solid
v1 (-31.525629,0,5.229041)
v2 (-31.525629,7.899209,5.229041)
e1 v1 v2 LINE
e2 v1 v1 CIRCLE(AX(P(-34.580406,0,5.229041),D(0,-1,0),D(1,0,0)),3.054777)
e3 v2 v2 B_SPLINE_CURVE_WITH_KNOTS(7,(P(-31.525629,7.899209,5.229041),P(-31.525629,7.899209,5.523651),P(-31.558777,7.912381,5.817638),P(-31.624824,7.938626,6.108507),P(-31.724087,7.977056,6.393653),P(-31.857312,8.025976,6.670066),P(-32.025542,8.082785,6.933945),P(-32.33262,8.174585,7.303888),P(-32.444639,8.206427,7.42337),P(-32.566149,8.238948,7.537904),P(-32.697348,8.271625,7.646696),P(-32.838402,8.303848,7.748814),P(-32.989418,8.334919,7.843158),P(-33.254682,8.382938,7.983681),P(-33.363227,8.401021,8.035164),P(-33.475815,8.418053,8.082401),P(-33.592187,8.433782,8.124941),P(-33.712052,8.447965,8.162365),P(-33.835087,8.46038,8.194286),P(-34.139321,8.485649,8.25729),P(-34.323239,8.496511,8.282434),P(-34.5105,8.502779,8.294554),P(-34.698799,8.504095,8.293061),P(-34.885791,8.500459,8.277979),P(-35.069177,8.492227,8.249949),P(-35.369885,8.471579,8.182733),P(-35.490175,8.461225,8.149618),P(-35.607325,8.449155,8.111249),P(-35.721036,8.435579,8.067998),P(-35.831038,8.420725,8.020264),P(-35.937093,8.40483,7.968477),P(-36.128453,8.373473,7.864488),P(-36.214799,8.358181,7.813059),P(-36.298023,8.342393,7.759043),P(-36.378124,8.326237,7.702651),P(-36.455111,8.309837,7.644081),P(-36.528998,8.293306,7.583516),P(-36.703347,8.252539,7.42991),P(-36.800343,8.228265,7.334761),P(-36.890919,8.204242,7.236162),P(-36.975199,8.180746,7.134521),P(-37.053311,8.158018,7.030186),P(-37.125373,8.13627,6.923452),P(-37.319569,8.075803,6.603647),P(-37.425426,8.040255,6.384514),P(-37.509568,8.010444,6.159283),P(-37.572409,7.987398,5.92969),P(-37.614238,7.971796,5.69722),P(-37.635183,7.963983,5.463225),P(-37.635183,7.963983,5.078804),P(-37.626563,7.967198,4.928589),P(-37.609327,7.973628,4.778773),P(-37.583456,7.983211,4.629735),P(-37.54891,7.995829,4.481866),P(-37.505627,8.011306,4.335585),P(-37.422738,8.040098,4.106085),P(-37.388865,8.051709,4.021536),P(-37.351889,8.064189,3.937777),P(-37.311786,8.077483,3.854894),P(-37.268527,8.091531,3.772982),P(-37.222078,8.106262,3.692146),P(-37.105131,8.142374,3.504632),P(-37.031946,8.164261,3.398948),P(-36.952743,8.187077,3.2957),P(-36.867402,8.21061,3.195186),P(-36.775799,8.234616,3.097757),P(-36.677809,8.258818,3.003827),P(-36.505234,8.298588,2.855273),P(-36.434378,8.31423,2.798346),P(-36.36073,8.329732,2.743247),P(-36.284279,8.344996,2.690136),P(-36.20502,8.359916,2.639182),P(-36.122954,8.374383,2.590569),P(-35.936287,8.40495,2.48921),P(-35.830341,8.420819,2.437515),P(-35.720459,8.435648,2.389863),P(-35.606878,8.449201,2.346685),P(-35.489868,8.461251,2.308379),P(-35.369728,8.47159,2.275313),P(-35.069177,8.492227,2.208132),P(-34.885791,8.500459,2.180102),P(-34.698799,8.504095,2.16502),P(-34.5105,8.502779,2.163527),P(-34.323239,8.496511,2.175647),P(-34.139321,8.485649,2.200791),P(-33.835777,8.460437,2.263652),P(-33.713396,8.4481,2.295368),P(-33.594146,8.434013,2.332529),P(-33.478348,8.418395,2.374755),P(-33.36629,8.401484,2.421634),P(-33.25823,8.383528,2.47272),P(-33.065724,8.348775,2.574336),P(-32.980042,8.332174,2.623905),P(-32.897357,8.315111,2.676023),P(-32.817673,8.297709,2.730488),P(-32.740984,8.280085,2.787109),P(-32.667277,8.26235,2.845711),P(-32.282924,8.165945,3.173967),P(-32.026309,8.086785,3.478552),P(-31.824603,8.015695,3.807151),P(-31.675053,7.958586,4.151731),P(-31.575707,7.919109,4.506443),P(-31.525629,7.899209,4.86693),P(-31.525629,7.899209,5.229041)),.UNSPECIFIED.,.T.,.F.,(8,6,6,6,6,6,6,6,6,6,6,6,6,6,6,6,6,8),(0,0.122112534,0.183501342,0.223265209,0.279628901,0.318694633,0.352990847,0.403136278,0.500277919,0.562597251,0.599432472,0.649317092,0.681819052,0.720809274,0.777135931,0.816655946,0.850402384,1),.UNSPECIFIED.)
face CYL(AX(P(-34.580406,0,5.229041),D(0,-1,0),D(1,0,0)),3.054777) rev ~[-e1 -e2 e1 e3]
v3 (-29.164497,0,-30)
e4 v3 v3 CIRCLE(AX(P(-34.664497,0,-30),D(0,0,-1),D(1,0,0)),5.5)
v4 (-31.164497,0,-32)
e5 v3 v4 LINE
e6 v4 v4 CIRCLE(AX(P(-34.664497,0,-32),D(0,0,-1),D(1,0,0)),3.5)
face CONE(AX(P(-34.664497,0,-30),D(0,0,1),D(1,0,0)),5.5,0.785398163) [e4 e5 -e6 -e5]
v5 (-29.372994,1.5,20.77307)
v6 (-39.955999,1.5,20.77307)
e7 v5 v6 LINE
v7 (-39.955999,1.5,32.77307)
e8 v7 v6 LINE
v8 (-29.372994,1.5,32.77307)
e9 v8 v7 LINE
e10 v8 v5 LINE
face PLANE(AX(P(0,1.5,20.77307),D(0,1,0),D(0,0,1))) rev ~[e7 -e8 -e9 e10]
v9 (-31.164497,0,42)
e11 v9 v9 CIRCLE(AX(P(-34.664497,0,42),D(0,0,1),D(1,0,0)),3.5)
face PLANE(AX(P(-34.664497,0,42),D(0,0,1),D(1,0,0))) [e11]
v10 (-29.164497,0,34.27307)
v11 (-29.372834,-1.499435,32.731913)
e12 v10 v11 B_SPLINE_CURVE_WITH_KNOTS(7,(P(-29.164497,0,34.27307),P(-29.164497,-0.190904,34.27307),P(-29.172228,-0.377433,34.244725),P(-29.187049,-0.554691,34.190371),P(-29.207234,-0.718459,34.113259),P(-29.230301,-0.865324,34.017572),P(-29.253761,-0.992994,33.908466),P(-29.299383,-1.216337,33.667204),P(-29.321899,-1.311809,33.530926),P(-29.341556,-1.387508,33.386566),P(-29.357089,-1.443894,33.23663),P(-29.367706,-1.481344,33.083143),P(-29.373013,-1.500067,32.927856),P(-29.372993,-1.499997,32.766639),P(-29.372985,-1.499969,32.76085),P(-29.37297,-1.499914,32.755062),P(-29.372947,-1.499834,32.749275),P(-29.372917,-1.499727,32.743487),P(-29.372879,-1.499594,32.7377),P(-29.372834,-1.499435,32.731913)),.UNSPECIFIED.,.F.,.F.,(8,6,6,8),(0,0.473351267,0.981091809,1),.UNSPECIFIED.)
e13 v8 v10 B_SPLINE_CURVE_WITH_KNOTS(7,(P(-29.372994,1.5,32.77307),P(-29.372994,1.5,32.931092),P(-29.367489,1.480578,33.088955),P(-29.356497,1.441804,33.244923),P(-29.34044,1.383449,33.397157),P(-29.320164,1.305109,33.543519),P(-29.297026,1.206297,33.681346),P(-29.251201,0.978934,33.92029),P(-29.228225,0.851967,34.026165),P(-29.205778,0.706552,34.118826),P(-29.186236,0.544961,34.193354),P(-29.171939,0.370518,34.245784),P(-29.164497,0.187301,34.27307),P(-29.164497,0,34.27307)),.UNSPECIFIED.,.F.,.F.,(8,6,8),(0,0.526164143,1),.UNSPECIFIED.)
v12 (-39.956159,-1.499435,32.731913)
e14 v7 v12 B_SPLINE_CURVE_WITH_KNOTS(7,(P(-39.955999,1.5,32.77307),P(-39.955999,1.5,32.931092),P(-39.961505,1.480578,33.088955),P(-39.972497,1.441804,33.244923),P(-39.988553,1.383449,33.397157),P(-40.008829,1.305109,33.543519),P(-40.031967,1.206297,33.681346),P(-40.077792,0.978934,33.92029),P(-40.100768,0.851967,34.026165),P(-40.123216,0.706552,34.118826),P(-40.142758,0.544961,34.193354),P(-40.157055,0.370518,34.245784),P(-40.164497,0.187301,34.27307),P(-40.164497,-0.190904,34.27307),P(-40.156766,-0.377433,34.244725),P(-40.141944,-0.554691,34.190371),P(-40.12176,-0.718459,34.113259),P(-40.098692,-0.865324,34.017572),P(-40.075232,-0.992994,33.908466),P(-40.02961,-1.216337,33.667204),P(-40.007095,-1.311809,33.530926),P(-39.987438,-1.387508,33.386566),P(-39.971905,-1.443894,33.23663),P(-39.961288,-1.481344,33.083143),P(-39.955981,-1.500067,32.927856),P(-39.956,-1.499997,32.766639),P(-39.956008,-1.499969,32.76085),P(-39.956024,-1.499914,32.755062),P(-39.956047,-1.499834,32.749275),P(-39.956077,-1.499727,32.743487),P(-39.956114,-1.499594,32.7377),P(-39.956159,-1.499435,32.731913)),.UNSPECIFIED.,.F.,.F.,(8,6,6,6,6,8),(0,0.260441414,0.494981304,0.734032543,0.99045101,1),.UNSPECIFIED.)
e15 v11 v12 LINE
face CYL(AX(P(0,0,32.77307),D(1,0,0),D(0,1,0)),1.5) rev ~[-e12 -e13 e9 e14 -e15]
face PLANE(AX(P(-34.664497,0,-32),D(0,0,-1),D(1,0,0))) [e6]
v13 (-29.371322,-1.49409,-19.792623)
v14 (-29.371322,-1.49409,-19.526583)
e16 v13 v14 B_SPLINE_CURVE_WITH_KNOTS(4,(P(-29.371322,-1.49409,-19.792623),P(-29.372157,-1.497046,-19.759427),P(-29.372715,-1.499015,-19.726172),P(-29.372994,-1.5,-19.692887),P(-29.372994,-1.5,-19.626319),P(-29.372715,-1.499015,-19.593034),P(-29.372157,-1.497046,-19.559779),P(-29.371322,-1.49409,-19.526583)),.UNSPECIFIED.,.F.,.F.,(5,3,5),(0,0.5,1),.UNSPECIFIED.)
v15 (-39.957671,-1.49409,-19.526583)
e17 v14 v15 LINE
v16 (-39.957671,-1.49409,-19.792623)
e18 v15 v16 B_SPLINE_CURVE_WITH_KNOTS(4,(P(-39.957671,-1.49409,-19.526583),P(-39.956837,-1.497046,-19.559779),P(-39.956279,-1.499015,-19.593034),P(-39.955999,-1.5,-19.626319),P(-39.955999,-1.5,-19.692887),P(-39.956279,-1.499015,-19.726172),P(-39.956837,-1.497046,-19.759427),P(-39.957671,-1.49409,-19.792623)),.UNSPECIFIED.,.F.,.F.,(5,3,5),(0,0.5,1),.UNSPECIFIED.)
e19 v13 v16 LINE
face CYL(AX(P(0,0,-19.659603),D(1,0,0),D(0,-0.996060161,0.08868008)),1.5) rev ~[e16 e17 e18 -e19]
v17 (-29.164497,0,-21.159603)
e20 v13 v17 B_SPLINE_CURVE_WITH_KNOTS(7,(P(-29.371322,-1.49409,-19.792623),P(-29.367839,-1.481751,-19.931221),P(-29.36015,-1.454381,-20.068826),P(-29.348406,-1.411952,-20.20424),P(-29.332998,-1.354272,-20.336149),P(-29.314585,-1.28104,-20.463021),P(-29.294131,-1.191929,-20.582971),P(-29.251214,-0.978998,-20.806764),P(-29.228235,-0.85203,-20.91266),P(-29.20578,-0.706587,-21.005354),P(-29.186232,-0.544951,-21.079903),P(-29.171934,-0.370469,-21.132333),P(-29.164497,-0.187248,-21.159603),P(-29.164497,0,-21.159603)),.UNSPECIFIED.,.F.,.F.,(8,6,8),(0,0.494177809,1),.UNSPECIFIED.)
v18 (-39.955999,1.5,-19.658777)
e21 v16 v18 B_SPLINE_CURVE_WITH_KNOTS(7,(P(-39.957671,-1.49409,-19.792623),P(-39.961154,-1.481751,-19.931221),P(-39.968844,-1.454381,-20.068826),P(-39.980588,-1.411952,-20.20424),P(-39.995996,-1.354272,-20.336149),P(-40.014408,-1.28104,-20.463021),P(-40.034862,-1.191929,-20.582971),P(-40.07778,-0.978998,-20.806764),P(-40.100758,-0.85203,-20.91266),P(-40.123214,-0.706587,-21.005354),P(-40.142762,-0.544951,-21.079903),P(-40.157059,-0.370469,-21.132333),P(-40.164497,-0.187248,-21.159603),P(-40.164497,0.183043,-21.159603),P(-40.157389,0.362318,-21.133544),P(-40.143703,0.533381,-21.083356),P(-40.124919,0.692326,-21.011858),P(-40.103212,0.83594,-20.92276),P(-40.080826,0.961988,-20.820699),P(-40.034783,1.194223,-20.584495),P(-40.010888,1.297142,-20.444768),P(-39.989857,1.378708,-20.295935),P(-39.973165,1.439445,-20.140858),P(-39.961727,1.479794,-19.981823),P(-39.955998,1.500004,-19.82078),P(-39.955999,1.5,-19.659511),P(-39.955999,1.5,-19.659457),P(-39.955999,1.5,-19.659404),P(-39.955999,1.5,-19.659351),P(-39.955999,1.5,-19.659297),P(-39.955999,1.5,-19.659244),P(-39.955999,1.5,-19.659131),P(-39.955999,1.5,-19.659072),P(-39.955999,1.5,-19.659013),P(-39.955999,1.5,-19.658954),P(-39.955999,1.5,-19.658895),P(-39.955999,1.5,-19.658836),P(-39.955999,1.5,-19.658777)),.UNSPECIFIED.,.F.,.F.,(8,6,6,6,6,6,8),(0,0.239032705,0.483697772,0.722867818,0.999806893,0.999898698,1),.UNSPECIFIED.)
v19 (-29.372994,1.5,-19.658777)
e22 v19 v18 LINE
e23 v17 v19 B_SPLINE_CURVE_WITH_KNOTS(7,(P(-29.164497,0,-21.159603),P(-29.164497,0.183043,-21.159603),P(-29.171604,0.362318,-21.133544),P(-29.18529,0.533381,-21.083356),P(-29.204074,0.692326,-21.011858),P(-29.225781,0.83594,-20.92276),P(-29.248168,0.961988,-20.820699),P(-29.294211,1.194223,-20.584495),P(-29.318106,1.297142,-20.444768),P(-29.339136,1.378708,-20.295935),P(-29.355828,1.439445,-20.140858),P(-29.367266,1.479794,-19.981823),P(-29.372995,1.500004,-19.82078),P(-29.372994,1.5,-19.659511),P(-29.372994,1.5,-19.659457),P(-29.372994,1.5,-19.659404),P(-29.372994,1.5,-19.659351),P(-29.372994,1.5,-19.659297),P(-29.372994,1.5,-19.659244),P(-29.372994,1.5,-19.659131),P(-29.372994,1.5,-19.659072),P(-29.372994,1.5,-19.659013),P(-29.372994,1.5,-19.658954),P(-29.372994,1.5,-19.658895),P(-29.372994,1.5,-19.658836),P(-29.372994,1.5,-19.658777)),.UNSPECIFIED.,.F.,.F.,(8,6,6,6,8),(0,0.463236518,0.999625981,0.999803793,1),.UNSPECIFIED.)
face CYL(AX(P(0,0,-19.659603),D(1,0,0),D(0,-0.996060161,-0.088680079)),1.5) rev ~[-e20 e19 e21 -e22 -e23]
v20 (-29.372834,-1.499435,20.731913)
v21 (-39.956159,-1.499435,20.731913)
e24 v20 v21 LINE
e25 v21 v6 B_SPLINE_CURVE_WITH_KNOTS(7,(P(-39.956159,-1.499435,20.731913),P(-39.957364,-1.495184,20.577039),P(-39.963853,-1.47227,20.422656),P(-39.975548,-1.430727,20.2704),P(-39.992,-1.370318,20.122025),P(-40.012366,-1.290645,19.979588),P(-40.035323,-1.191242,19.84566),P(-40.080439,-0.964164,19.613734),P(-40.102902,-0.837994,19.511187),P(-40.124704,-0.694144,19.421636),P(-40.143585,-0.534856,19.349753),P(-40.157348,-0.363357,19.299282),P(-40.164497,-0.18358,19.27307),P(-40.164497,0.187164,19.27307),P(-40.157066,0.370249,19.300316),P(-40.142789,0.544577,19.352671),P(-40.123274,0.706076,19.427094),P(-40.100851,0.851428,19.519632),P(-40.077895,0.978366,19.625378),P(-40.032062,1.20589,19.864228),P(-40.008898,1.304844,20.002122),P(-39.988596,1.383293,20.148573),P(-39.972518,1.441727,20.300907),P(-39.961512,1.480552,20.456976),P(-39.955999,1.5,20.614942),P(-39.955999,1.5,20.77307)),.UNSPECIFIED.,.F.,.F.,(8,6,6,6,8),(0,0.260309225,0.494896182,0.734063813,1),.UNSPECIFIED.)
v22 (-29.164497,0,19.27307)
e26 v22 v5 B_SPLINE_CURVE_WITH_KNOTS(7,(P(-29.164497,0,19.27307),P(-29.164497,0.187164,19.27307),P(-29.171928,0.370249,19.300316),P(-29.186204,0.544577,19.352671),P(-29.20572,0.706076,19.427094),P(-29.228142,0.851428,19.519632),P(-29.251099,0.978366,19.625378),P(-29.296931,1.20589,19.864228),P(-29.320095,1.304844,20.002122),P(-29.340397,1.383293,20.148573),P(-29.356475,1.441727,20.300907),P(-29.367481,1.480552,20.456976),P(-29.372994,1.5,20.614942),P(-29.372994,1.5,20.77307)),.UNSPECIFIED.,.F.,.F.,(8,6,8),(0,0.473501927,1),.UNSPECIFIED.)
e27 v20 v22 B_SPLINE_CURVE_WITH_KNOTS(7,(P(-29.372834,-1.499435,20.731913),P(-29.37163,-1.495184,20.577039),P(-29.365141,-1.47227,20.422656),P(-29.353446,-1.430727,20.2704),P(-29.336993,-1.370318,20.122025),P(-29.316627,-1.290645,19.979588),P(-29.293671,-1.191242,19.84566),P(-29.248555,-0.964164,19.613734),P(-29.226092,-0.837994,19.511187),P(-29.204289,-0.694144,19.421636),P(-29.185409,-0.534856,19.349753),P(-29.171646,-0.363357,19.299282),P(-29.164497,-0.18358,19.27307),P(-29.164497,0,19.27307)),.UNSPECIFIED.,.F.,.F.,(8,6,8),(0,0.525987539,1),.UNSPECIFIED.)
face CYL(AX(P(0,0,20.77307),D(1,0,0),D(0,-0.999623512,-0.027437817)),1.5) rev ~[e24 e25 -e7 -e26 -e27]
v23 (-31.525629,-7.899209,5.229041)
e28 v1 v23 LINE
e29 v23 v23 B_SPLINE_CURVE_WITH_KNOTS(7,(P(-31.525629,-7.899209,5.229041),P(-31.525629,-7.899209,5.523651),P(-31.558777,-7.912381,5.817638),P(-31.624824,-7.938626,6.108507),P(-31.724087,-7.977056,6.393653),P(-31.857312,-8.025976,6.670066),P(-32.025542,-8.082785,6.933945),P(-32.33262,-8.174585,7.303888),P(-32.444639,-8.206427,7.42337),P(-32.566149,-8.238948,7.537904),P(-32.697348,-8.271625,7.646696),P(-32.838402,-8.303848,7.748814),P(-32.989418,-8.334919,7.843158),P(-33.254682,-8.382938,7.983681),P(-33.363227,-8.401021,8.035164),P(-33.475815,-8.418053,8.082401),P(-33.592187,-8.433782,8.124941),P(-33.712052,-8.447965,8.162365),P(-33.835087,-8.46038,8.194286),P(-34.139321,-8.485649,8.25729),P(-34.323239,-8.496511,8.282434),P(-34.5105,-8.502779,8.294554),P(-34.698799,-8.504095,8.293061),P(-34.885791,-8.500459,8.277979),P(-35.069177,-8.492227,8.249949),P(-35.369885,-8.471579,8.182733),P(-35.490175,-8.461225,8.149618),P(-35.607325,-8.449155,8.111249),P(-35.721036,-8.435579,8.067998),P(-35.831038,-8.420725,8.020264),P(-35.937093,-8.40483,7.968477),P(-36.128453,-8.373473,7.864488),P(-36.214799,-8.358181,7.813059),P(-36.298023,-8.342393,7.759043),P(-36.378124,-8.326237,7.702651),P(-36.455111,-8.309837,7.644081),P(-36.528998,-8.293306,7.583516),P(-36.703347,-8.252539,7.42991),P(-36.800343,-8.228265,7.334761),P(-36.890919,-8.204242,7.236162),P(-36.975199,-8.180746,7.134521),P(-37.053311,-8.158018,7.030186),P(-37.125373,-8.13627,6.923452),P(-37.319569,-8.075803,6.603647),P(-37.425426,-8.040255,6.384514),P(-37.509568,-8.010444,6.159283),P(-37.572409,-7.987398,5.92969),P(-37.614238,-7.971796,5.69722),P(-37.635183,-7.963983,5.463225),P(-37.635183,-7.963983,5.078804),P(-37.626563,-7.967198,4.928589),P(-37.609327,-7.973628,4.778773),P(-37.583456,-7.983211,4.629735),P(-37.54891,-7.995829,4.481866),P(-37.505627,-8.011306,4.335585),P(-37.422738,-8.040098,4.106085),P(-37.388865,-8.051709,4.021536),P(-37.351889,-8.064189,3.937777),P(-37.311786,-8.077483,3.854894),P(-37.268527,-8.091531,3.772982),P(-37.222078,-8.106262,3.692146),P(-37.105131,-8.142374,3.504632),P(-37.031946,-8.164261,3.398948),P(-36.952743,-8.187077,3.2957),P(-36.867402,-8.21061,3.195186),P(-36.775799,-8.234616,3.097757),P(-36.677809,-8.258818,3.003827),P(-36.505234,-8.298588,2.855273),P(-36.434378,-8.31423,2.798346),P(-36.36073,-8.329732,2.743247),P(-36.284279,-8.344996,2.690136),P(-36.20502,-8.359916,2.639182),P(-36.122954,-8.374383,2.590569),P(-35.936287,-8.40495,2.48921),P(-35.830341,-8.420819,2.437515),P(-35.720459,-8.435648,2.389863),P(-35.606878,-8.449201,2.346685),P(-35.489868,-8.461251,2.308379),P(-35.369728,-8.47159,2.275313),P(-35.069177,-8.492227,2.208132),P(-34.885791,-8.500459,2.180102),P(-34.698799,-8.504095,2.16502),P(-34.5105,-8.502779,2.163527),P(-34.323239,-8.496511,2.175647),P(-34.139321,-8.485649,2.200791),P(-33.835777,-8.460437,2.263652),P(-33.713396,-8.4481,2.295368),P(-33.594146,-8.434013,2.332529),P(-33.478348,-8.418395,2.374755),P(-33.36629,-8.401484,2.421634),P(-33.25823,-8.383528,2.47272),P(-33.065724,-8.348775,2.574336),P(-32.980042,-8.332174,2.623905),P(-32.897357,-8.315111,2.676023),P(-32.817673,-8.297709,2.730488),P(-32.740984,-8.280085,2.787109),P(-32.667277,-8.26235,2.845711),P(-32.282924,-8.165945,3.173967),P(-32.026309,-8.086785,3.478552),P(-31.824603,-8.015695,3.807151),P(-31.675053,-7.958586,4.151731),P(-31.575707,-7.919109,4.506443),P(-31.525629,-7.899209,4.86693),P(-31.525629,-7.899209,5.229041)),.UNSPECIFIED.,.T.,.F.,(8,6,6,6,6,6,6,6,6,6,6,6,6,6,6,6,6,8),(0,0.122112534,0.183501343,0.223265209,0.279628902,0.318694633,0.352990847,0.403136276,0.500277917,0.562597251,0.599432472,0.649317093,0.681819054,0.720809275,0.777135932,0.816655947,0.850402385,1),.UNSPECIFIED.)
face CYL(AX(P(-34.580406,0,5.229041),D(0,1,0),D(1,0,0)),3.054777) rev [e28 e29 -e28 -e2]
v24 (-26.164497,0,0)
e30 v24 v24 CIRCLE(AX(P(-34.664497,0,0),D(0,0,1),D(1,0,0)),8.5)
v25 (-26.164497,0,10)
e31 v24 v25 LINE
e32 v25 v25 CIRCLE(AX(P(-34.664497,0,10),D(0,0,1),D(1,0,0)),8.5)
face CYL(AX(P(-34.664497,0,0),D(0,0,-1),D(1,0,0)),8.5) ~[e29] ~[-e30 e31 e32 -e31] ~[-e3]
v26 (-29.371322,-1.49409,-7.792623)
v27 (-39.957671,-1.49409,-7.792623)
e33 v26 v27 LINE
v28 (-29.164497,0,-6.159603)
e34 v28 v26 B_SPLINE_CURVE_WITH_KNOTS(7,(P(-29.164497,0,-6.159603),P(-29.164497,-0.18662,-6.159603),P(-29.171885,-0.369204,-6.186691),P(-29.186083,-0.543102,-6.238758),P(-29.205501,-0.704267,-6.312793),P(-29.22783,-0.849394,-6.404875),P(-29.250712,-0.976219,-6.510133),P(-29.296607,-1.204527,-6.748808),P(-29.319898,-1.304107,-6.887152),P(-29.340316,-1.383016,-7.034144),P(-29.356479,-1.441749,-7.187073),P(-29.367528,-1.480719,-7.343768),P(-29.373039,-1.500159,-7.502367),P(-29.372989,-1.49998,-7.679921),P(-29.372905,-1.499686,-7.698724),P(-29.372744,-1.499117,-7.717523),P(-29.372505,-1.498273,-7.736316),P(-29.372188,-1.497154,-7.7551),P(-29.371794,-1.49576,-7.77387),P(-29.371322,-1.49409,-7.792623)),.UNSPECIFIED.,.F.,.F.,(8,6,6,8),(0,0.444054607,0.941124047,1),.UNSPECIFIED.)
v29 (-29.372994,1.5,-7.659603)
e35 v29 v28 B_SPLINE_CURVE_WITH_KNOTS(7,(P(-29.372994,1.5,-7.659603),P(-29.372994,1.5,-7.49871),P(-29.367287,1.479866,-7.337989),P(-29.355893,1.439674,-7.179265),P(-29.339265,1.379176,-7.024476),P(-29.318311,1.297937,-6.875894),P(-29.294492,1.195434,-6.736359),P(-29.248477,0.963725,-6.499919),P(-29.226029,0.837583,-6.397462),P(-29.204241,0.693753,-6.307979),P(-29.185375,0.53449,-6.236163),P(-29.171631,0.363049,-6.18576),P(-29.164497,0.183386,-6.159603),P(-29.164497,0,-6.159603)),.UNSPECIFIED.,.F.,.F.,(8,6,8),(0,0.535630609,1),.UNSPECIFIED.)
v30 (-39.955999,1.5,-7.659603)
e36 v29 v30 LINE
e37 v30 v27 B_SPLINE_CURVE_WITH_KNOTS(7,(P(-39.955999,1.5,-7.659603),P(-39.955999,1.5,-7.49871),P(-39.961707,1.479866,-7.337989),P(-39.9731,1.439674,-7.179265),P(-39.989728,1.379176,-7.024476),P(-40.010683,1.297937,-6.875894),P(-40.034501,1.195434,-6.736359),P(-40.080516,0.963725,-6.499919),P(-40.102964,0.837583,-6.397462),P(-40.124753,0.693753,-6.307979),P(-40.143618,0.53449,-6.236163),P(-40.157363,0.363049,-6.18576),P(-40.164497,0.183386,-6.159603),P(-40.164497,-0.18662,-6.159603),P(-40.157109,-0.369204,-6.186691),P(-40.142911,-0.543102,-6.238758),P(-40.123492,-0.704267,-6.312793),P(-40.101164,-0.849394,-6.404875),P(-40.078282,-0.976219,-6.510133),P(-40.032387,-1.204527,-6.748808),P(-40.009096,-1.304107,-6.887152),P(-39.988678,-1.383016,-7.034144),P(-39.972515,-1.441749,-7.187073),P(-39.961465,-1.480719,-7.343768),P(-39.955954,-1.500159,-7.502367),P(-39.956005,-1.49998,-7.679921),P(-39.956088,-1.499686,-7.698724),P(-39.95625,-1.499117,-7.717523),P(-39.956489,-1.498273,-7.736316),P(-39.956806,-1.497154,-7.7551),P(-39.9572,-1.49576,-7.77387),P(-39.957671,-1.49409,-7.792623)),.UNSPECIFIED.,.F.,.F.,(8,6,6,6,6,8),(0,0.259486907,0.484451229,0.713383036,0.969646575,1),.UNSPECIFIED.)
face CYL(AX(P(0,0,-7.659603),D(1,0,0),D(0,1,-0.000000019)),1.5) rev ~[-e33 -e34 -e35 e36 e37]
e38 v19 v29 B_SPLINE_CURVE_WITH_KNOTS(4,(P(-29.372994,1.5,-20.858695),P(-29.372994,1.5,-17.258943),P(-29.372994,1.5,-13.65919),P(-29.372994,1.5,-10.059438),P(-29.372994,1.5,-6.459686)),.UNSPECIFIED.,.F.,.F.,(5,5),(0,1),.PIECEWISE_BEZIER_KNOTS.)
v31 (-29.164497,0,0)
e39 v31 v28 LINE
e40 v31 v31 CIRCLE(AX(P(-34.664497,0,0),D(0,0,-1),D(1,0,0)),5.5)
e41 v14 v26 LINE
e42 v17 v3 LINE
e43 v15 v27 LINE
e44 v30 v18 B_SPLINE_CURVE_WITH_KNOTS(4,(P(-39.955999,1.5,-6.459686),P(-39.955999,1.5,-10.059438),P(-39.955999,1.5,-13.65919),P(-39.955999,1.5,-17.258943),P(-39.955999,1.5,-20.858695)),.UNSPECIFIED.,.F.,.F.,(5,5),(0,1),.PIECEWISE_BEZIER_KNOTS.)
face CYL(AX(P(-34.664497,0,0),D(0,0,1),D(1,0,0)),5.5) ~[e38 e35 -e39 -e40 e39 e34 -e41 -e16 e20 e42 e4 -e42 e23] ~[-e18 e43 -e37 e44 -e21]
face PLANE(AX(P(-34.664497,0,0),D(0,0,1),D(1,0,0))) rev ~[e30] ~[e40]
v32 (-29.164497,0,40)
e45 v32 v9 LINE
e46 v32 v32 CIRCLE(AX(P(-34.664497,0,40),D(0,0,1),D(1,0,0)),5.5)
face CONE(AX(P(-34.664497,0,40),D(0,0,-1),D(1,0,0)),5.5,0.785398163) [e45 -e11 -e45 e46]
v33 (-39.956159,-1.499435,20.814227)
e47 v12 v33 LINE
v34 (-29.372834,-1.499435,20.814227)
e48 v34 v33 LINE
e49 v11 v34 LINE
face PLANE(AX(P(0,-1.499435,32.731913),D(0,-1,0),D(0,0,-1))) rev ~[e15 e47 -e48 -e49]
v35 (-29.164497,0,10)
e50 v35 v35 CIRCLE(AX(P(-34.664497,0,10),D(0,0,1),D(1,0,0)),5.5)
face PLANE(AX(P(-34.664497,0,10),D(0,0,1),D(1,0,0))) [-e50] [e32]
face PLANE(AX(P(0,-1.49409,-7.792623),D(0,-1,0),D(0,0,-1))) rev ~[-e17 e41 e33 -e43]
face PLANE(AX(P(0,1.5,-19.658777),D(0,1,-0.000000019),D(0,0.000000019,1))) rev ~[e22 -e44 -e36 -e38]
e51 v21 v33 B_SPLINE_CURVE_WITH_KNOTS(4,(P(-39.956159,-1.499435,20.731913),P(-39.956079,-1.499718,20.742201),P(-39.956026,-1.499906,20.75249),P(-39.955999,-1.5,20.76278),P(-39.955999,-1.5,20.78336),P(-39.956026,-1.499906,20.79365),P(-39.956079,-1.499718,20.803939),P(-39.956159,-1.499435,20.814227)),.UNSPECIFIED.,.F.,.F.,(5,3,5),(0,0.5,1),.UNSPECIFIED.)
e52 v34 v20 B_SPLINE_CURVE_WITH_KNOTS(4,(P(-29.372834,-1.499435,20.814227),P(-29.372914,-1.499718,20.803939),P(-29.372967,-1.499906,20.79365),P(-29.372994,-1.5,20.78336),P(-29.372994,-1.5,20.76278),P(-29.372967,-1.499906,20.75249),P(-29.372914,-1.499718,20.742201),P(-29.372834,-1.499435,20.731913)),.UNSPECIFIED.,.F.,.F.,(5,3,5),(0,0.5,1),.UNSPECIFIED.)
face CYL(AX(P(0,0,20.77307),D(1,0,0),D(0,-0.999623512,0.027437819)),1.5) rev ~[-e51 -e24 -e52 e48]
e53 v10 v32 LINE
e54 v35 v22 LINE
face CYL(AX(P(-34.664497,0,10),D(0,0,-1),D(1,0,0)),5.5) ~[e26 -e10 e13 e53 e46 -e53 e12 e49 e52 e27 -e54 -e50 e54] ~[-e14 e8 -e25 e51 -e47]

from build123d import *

# Parameters (mm, degrees)
F0_R          = 8.5
F1_DEPTH      = 10
F2_R          = 5.5
F3_DEPTH      = 32
F4_R          = 5.5
F5_DEPTH      = 32
F6_SIZE       = 2
F7_SIZE       = 2
F8_R          = 3.0547772324
F9_DEPTH      = 8.501
F9_DEPTH_BACK = 8.501
F11_DEPTH     = 43.1654968794
F13_DEPTH     = 43.1654968794


with BuildPart() as f1:
    # F0 (on Top) → F1 (new body)
    with BuildSketch(Plane.XY):
        with Locations((-34.6644967794, 0)):
            Circle(F0_R)
    extrude(amount=F1_DEPTH)

    # F2 (on face) → F3 (join)
    with BuildSketch(Plane.XY.offset(10)):
        with Locations((-34.6644967794, 0)):
            Circle(F2_R)
    extrude(amount=F3_DEPTH)

    # F4 (on face) → F5 (join)
    with BuildSketch(Plane(origin=(0, 0, 0), x_dir=(1, 0, 0), z_dir=(0, 0, -1))):
        with Locations((-34.6644967794, 0)):
            Circle(F4_R)
    extrude(amount=F5_DEPTH)

    # F6
    f6_edges = [f1.edges().sort_by_distance(p)[0] for p in [
        (-40.164497, 0, 42),
    ]]
    chamfer(f6_edges, length=F6_SIZE)

    # F7
    f7_edges = [f1.edges().sort_by_distance(p)[0] for p in [
        (-40.164497, 0, -32),
    ]]
    chamfer(f7_edges, length=F7_SIZE)

    # F8 (on Front) → F9 (cut, two sides)
    with BuildSketch(Plane.XZ) as f9_sk:
        with Locations((-34.5804058015, 5.2290405147)):
            Circle(F8_R)
    extrude(amount=-F9_DEPTH, mode=Mode.SUBTRACT)
    extrude(f9_sk.sketch, amount=F9_DEPTH_BACK, mode=Mode.SUBTRACT)

    # F10 (on Right) → F11 (cut, through all)
    with BuildSketch(Plane.YZ):
        with BuildLine():
            Line((1.5, 20.7730699331), (1.5, 32.7730699331))
            ThreePointArc((1.5, 32.7730699331), (-0.0205803002, 34.2729287435), (-1.4994352683, 32.731913207))
            Line((-1.4994352683, 32.731913207), (-1.4994352683, 20.8142266592))
            Line((-1.4994352683, 20.8142266592), (-1.4994352683, 20.731913207))
            ThreePointArc((-1.4994352683, 20.731913207), (0.0205803002, 19.2732111226), (1.5, 20.7730699331))
        make_face()
        with BuildLine():
            Line((-1.4994352683, 20.731913207), (-1.4994352683, 20.8142266592))
            ThreePointArc((-1.4994352683, 20.8142266592), (-1.5, 20.7730699331), (-1.4994352683, 20.731913207))
        make_face()
    extrude(amount=-F11_DEPTH, mode=Mode.SUBTRACT)

    # F12 (on Right) → F13 (cut, through all)
    with BuildSketch(Plane.YZ):
        with BuildLine():
            Line((-1.4940902409, -19.792623133), (-1.4940902409, -19.5265828961))
            ThreePointArc((-1.4940902409, -19.5265828961), (-1.5, -19.6596030146), (-1.4940902409, -19.792623133))
        make_face()
        with BuildLine():
            Line((-1.4940902409, -7.792623133), (-1.4940902409, -19.5265828961))
            Line((-1.4940902409, -19.5265828961), (-1.4940902409, -19.792623133))
            ThreePointArc((-1.4940902409, -19.792623133), (0.0669880568, -21.1581064681), (1.4999997728, -19.6587774142))
            Line((1.4999997728, -19.6587774142), (1.5, -7.6596030146))
            ThreePointArc((1.5, -7.659603043), (-0.0665756517, -6.161081182), (-1.4940902409, -7.792623133))
        make_face()
    extrude(amount=-F13_DEPTH, mode=Mode.SUBTRACT)


solid = f1.part
